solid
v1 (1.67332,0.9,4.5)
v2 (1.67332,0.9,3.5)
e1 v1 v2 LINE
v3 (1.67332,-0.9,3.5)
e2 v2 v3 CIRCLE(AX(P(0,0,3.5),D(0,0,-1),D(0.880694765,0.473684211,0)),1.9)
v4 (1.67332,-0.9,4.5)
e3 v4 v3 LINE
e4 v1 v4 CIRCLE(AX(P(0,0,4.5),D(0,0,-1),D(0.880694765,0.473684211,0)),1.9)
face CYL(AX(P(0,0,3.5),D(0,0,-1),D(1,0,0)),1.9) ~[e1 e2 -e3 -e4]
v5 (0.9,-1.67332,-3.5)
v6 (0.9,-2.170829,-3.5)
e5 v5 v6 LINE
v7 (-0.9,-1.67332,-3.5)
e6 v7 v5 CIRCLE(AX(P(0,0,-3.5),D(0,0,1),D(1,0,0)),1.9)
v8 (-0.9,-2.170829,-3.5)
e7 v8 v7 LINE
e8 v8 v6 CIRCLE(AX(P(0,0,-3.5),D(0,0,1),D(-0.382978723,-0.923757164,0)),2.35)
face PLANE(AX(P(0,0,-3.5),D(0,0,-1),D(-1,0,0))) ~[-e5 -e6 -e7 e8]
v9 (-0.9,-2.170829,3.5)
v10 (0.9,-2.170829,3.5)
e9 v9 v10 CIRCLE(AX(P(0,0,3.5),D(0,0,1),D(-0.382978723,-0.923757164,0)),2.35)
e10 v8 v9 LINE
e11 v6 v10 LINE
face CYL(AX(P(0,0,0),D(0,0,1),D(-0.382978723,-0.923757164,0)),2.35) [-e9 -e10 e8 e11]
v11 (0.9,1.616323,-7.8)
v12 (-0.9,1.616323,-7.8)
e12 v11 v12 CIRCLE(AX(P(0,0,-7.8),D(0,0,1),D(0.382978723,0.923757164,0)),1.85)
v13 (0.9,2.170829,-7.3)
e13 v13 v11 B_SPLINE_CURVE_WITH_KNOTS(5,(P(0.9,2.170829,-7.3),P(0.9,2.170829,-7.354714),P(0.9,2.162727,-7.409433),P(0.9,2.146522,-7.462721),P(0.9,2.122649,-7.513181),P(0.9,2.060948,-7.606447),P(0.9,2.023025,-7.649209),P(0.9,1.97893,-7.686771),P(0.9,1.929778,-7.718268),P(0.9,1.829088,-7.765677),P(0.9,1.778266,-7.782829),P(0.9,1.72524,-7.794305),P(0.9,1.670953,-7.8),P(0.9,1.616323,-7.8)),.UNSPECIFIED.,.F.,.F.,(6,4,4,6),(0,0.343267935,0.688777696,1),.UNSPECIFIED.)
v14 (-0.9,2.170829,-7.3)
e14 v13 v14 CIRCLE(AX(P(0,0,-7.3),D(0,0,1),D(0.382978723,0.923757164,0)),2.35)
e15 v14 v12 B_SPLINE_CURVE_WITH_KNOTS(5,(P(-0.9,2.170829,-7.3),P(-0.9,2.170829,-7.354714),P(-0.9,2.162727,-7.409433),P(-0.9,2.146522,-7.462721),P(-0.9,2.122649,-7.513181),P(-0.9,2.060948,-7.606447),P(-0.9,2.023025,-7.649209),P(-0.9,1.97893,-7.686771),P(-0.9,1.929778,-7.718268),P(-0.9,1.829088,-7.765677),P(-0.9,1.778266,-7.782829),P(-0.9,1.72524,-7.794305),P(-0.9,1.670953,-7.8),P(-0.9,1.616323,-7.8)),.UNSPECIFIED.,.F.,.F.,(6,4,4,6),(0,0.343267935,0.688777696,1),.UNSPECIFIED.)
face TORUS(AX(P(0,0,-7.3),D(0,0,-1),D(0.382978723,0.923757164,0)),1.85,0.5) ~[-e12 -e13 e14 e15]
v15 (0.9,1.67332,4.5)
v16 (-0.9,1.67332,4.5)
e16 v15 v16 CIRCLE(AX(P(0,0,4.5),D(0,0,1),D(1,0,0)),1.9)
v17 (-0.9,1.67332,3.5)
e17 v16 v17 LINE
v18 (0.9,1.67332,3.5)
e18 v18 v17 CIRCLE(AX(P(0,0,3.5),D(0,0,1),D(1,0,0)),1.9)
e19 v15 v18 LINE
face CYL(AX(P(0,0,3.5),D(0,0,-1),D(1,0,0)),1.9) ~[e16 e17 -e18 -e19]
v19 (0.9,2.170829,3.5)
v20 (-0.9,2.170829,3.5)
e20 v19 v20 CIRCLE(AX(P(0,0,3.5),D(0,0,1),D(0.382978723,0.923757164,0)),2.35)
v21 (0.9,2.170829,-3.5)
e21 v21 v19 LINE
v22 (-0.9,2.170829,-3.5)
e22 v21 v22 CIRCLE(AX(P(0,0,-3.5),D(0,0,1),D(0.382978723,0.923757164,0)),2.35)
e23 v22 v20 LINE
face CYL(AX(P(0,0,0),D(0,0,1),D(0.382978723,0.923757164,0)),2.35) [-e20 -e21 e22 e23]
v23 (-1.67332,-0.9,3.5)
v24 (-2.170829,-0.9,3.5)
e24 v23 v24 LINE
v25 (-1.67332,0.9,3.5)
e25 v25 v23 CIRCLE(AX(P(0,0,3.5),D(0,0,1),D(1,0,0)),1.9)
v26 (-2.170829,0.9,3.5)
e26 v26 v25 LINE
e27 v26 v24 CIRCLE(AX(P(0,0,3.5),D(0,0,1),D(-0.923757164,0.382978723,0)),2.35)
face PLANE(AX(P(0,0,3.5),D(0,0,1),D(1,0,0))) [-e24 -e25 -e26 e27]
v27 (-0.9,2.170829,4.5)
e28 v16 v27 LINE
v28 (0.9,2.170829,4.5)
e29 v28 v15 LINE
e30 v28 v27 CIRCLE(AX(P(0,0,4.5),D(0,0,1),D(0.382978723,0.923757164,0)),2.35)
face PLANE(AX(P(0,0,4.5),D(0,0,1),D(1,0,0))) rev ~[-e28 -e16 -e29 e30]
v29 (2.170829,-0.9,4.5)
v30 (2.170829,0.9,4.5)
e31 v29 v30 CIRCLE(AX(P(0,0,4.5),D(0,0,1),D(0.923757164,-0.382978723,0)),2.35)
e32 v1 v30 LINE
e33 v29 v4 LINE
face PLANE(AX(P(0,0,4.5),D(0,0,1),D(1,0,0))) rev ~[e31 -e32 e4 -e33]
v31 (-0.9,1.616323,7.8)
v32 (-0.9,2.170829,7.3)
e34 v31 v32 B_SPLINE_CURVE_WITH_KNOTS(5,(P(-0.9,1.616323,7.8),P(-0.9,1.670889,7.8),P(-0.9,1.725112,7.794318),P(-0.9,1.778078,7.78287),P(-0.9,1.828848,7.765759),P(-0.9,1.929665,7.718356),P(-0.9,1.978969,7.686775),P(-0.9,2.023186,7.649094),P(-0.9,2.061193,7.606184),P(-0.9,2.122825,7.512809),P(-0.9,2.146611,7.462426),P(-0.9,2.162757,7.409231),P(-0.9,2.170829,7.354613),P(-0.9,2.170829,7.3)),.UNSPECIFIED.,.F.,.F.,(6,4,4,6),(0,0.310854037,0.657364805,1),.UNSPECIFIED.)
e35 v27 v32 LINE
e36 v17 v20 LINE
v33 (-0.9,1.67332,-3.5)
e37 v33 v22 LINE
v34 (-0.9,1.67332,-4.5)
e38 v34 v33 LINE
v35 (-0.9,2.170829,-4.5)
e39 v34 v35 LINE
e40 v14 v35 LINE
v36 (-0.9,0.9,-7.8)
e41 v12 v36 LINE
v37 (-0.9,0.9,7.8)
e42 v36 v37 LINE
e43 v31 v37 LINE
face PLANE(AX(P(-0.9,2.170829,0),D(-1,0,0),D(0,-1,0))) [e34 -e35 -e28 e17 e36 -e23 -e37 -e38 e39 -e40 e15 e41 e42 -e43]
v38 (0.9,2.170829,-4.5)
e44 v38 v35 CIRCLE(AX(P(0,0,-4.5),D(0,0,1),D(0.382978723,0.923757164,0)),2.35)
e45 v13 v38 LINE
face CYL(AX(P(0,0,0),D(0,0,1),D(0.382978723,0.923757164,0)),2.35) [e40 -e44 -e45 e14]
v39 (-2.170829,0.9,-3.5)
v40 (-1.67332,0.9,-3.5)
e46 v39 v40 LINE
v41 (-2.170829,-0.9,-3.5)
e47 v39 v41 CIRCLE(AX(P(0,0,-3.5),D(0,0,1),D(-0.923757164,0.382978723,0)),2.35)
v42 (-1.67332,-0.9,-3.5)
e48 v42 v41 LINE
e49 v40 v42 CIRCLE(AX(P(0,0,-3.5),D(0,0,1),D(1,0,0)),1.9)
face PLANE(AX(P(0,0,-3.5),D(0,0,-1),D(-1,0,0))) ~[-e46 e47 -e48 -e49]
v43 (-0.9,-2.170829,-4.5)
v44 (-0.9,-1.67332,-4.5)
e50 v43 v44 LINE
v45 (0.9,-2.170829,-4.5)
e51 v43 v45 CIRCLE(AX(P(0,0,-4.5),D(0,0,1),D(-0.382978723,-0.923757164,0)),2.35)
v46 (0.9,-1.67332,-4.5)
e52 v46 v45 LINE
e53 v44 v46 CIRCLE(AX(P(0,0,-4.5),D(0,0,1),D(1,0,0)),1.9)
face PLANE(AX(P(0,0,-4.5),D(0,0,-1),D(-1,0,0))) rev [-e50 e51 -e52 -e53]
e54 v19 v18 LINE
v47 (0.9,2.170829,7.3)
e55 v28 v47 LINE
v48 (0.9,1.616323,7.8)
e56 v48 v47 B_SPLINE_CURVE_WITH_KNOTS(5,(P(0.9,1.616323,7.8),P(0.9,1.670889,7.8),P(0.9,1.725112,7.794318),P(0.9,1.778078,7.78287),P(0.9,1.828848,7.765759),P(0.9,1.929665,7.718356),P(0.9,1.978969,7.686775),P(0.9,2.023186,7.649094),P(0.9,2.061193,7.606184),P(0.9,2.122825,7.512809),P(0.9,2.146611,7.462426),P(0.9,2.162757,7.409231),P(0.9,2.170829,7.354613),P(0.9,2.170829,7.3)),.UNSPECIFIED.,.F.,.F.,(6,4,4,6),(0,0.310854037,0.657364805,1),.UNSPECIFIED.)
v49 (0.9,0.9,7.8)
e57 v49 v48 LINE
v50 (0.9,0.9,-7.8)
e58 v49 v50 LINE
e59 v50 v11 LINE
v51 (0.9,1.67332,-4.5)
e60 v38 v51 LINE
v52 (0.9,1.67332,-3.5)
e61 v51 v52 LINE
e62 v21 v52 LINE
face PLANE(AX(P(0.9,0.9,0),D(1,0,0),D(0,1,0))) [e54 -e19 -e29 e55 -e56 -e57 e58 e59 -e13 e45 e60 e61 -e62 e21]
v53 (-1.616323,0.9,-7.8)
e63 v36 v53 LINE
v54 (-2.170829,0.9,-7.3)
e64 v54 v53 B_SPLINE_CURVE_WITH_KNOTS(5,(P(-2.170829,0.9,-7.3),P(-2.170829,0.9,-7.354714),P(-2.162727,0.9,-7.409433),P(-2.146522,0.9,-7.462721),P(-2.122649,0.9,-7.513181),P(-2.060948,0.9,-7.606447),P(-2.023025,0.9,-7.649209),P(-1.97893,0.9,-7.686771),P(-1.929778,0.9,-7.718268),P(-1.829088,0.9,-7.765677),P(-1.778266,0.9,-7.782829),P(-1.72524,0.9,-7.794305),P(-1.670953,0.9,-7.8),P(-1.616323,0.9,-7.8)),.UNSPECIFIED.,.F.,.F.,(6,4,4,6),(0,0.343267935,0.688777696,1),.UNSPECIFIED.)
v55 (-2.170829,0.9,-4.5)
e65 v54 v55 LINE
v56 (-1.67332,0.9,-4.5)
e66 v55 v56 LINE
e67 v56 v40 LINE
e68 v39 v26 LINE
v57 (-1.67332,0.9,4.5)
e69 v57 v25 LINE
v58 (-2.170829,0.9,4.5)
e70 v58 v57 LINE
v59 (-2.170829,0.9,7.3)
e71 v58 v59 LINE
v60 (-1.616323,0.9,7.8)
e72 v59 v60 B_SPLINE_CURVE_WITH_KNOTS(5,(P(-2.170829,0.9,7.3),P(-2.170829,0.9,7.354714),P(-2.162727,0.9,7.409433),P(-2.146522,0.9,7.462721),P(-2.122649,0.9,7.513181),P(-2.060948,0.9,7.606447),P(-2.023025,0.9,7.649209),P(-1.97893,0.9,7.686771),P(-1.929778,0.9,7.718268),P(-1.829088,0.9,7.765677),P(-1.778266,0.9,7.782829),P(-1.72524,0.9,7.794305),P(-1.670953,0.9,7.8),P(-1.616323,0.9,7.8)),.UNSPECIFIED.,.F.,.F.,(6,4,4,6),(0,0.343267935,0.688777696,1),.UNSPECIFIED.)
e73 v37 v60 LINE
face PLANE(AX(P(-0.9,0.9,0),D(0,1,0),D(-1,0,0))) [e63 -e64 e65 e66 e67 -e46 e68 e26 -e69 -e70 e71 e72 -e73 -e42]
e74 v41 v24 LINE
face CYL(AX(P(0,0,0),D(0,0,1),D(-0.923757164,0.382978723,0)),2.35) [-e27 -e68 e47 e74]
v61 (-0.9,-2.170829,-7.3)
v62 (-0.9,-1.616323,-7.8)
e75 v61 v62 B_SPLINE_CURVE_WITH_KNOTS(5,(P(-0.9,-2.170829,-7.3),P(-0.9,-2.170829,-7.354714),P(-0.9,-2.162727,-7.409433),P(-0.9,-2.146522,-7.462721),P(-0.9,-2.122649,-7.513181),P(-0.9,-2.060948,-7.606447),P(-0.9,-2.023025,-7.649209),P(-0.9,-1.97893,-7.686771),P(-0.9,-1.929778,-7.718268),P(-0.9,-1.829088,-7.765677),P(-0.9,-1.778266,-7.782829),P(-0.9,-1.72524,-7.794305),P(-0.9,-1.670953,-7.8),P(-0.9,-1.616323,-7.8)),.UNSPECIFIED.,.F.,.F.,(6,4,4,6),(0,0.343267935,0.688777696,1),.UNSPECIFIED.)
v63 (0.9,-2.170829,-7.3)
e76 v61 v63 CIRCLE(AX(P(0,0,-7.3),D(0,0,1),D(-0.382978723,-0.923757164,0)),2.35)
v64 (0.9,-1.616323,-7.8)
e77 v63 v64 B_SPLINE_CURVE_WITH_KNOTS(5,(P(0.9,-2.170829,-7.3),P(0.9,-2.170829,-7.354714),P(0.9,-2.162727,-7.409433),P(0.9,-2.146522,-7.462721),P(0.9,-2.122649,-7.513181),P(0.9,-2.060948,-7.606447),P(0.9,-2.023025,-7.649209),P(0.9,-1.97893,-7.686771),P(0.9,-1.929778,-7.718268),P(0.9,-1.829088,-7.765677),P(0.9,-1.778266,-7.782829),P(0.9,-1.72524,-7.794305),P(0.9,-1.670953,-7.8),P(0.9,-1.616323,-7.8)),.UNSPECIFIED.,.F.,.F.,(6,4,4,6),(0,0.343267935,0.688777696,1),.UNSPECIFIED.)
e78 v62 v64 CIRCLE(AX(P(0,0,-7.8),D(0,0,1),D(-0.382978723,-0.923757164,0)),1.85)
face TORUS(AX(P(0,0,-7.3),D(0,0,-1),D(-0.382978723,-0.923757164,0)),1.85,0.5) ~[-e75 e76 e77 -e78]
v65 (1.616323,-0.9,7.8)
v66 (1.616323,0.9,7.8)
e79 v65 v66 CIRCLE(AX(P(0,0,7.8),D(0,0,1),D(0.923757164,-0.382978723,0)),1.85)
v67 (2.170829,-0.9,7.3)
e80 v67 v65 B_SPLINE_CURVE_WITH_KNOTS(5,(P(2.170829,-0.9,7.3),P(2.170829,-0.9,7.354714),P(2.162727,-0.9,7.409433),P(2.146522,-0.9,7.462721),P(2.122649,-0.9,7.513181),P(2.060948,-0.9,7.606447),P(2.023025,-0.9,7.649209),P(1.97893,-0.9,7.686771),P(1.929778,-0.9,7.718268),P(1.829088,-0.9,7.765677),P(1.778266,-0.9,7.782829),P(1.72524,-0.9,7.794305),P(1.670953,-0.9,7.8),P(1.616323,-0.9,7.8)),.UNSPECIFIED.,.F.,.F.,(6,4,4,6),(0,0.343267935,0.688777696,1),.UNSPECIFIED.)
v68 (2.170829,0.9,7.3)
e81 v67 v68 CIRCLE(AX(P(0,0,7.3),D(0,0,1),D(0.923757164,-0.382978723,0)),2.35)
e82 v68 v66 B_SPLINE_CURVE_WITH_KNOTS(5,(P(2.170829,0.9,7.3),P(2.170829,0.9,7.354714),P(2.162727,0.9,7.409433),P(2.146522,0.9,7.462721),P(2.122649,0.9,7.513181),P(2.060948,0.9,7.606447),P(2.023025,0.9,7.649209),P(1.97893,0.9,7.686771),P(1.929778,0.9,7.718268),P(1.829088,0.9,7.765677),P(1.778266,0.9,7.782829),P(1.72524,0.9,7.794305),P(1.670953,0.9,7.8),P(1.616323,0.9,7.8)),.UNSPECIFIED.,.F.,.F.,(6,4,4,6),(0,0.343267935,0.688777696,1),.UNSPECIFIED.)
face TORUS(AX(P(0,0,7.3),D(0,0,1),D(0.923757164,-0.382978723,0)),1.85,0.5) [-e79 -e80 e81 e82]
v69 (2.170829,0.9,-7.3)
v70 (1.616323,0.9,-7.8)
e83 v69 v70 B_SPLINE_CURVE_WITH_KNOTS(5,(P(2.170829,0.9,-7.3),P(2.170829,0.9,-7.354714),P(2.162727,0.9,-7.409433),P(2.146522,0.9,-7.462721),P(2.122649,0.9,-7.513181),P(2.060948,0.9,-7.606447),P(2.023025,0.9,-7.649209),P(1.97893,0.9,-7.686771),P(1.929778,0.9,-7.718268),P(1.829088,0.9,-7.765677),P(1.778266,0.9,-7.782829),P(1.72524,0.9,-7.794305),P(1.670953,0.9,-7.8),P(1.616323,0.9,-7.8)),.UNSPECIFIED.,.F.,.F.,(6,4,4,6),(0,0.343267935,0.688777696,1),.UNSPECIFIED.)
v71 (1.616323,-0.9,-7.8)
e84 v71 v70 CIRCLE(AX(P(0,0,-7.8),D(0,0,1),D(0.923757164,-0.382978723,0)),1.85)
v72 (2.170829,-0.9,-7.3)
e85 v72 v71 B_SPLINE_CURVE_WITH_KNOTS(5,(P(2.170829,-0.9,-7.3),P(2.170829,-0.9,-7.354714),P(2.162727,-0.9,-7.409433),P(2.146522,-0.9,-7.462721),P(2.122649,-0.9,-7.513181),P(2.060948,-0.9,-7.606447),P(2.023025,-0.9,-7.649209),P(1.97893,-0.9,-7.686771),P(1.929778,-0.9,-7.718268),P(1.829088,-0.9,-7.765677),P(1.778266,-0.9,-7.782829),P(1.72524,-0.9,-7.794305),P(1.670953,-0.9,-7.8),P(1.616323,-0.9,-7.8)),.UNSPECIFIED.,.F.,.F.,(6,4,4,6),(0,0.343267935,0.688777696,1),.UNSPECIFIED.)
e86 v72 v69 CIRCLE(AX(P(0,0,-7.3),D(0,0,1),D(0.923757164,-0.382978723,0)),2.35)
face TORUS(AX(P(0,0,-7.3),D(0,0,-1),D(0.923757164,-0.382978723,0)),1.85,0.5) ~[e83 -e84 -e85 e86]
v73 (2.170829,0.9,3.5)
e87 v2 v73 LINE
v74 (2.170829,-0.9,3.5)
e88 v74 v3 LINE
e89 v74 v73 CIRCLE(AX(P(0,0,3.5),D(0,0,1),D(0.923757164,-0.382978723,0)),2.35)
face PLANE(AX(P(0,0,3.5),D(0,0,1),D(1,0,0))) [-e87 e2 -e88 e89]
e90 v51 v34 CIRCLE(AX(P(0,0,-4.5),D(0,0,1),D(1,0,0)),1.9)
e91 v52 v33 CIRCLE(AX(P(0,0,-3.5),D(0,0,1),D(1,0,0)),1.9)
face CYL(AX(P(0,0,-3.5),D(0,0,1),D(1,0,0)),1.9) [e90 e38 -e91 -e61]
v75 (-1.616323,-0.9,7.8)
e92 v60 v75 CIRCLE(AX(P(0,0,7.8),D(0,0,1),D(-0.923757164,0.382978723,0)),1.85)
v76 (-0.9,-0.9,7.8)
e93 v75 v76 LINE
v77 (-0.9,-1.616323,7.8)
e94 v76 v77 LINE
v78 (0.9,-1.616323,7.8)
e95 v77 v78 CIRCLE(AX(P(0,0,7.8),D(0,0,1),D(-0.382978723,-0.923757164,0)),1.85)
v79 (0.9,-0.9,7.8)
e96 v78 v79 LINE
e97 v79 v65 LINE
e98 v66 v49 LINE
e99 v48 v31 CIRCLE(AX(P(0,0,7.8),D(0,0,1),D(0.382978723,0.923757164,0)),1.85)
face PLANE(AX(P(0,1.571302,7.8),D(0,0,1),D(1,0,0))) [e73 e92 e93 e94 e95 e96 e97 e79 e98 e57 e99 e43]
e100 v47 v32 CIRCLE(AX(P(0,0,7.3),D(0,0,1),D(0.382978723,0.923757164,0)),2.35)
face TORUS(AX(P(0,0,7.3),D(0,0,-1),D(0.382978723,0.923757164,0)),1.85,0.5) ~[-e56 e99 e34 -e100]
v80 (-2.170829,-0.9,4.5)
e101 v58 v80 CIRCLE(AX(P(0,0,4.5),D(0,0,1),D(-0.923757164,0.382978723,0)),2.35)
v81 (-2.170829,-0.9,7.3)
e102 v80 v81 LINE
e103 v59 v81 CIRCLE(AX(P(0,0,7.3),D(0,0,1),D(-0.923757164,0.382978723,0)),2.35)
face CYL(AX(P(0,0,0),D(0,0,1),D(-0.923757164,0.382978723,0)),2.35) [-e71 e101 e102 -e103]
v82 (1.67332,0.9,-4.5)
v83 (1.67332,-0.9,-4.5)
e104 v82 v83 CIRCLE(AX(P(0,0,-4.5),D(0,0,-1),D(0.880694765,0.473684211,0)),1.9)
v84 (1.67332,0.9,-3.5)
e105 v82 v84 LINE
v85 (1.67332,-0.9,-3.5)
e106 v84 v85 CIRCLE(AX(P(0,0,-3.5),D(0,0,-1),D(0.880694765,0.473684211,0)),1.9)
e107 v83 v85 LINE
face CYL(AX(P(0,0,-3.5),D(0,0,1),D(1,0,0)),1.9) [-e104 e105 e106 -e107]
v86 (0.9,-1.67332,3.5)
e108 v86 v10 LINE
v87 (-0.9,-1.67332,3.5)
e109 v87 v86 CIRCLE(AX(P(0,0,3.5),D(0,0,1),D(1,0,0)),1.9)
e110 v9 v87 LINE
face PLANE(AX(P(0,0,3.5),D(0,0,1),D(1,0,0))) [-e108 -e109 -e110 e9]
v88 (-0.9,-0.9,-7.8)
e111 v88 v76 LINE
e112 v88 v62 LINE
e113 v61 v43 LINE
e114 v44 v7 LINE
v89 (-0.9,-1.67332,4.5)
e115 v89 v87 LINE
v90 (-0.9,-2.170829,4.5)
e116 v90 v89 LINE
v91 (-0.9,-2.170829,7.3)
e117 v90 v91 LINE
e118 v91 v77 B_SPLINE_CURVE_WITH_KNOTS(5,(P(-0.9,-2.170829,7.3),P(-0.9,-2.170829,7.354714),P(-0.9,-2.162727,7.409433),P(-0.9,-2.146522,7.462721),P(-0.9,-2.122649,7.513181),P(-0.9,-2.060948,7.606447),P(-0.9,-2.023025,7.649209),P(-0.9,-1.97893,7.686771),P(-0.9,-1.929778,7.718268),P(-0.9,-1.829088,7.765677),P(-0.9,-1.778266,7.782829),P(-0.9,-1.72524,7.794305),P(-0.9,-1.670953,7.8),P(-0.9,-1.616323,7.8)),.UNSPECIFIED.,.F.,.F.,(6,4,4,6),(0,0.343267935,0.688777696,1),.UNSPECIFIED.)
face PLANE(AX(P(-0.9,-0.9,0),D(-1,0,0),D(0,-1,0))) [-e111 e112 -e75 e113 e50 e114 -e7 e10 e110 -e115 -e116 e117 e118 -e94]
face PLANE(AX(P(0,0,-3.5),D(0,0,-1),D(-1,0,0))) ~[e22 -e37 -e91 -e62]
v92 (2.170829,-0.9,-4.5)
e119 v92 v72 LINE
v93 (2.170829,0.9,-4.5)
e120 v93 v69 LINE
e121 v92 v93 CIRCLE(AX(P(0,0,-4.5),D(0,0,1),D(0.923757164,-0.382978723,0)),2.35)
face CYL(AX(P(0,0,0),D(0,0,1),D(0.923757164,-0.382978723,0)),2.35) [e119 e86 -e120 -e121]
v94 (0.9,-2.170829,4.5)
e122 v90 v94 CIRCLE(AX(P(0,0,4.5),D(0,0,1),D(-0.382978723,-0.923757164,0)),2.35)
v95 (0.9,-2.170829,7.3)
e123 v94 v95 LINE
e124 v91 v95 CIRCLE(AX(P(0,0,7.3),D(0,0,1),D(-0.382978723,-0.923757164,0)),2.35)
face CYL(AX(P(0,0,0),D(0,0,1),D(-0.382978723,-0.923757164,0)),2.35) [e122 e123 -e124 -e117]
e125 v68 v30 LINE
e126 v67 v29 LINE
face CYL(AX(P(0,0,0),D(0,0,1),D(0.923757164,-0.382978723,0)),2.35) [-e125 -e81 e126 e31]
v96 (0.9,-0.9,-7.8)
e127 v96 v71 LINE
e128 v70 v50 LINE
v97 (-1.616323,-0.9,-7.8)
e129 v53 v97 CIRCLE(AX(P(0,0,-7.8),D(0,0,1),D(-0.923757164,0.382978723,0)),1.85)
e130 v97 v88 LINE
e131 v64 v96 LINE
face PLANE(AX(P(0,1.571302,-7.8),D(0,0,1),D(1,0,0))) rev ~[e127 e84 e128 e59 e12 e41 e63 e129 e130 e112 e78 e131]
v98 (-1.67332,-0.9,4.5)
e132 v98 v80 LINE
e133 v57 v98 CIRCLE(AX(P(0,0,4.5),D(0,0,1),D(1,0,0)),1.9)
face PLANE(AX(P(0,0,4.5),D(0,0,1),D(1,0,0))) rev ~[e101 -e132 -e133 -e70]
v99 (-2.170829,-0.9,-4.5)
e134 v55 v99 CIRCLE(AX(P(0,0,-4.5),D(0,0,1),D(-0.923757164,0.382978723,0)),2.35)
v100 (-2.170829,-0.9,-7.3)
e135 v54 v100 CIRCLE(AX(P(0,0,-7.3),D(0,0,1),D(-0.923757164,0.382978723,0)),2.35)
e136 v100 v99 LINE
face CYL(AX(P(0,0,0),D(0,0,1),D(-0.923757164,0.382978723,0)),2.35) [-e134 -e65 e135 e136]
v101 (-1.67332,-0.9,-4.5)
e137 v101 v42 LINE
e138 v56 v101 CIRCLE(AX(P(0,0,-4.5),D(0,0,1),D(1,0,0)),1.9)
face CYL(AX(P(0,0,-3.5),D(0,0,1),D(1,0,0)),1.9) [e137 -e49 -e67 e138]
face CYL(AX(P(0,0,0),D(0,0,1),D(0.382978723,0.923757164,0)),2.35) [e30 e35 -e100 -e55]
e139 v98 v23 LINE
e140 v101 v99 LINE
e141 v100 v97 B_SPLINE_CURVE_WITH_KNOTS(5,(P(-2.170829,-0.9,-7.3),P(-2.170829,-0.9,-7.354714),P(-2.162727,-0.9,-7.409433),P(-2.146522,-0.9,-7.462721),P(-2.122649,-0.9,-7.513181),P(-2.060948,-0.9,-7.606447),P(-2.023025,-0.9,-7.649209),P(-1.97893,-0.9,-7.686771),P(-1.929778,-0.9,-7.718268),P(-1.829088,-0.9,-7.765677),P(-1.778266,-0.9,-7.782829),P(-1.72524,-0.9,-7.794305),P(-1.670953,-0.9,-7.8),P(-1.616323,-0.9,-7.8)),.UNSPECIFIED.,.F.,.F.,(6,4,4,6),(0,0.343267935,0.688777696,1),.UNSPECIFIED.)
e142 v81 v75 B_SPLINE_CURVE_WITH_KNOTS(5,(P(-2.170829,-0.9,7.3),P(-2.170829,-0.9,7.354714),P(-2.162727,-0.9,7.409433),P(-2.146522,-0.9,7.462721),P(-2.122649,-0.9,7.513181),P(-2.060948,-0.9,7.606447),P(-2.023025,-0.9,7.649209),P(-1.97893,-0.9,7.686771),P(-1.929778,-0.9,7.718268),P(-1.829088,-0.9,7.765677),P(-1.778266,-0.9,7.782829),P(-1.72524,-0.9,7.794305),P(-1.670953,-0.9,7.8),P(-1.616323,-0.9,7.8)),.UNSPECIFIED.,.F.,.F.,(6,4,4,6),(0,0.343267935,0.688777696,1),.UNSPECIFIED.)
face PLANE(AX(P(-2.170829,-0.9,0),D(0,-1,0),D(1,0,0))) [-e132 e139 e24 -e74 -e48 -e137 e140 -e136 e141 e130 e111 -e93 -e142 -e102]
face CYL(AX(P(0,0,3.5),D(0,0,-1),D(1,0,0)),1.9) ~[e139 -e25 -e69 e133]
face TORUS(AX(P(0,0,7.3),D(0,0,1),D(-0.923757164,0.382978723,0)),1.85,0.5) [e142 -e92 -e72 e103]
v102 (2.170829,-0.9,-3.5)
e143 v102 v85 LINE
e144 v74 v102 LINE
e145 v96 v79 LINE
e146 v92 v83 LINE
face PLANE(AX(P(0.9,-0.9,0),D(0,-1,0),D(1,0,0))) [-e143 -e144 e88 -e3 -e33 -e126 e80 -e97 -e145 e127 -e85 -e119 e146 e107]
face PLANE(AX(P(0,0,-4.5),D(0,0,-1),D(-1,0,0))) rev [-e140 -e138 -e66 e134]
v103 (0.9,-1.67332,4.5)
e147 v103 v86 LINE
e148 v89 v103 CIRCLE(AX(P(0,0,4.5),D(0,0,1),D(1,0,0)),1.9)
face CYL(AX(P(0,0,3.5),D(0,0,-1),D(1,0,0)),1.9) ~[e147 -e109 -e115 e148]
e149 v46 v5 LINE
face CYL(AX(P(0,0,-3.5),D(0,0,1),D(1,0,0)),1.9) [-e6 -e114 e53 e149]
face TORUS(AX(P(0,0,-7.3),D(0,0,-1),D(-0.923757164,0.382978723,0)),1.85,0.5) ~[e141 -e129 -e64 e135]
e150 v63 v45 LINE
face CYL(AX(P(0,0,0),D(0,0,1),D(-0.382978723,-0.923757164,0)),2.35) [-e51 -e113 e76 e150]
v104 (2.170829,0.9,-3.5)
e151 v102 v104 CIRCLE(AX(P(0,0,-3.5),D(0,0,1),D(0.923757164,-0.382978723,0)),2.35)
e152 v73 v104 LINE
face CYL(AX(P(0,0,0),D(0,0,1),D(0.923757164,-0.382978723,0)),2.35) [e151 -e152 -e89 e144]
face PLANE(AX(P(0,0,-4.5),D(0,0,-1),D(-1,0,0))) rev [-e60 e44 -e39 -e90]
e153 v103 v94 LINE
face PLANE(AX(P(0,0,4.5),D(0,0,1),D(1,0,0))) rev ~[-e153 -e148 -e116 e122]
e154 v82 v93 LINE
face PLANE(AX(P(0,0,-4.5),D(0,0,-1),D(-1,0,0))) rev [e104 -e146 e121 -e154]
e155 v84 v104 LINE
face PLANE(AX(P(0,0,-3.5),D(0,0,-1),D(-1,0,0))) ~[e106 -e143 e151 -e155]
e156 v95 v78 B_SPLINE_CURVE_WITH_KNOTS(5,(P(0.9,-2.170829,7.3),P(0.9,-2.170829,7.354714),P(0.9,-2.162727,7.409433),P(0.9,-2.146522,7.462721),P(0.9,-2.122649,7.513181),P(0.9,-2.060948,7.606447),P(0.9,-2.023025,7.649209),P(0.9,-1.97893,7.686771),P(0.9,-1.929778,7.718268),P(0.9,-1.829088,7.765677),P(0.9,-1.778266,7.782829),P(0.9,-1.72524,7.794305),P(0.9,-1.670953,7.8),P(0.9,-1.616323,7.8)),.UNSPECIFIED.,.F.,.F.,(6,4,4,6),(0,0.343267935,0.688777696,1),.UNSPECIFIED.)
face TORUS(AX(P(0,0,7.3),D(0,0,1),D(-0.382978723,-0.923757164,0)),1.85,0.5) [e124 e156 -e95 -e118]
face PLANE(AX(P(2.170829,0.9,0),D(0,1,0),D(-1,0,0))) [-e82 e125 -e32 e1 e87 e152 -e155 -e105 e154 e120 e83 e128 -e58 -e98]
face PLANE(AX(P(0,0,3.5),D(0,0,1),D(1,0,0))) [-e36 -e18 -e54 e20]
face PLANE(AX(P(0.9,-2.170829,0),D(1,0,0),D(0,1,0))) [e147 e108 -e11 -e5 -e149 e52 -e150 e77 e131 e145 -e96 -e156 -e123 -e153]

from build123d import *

# Parameters (mm, degrees)
BOSS_EXTRUDE1_DEPTH = 7.8
FILLET1_R           = 0.5
SIDE_START          = 3.5
SKETCH2_OUTSIDE_W   = 10.092
SKETCH2_OUTSIDE_H   = 10.092
SKETCH2_OUTSIDE_R   = 1.9
SIDE_CUT_DEPTH      = 1


with BuildPart() as part:
    # Sketch1 → Boss-Extrude1 (new, symmetric)
    with BuildSketch(Plane.XY):
        with BuildLine():
            Line((-0.9000000000000004, 0.9), (0.8999999999999999, 0.9000000000000002))
            Line((0.8999999999999998, 0.9000000000000004), (0.8999999999999998, 2.1708293346092873))
            ThreePointArc((0.8999999999999373, 2.170829334609268), (0.45883061344477144, 2.3047721076422936), (-1.386e-14, 2.3500000000000014))
            ThreePointArc((-1.386e-14, 2.3500000000000014), (-0.45883061344483045, 2.3047721076422825), (-0.9000000000000228, 2.170829334609233))
            Line((-0.9000000000000002, 2.170829334609226), (-0.9000000000000002, 0.8999999999999999))
        make_face()
        with BuildLine():
            Line((0.8999999999999998, 0.9000000000000004), (0.8999999999999998, -0.8999999999999999))
            Line((0.8999999999999999, -0.8999999999999998), (2.170829334609184, -0.8999999999999996))
            ThreePointArc((2.170829334609208, -0.9000000000000794), (2.304772107642276, -0.4588306134448533), (2.35, 2.9e-16))
            ThreePointArc((2.35, 8.7e-16), (2.3047721076422767, 0.4588306134448523), (2.1708293346092096, 0.9000000000000766))
            Line((2.170829334609186, 0.9000000000000004), (0.8999999999999999, 0.9000000000000002))
        make_face()
        with BuildLine():
            ThreePointArc((-0.9000000000000248, -2.1708293346092304), (-0.4588306134448299, -2.3047721076422807), (-1.13e-14, -2.3499999999999996))
            ThreePointArc((-1.13e-14, -2.3499999999999996), (0.45883061344477294, -2.304772107642292), (0.8999999999999382, -2.170829334609266))
            Line((0.8999999999999998, -2.1708293346092846), (0.8999999999999998, -0.8999999999999999))
            Line((0.8999999999999999, -0.8999999999999998), (-0.9000000000000004, -0.8999999999999999))
            Line((-0.9000000000000002, -0.8999999999999999), (-0.9000000000000002, -2.1708293346092233))
        make_face()
        with BuildLine():
            Line((-2.1708293346092815, -0.9000000000000001), (-0.9000000000000004, -0.8999999999999999))
            Line((-0.9000000000000002, -0.8999999999999999), (-0.9000000000000002, 0.8999999999999999))
            Line((-0.9000000000000004, 0.9), (-2.1708293346092815, 0.8999999999999999))
            ThreePointArc((-2.170829334609265, 0.8999999999999461), (-2.3047721076422913, 0.45883061344478315), (-2.350000000000001, 1.16e-15))
            ThreePointArc((-2.350000000000001, 1.16e-15), (-2.3047721076422913, -0.4588306134447819), (-2.170829334609264, -0.8999999999999455))
        make_face()
        Polygon((-0.9000000000000004, -0.8999999999999999), (0.8999999999999999, -0.8999999999999998), (0.8999999999999998, 0.9000000000000004), (-0.9000000000000004, 0.9), align=None)
    extrude(amount=BOSS_EXTRUDE1_DEPTH, both=True)

    # Fillet1
    fillet1_edges = [part.edges().sort_by_distance(p)[0] for p in [
        (-2.955e-14, 2.3500000000000014, 7.8),
        (2.3500000000000005, -9.3e-16, -7.8),
        (-2.982e-14, -2.3499999999999996, -7.8),
        (-2.350000000000001, 4.4e-16, -7.8),
        (-2.92e-14, 2.3500000000000014, -7.8),
        (-2.350000000000001, 2.2e-16, 7.8),
        (-2.943e-14, -2.3499999999999996, 7.8),
        (2.3499999999999996, -4.6e-16, 7.8),
    ]]
    fillet(fillet1_edges, radius=FILLET1_R)

    # Sketch2 outside → Side Cut (cut)
    with BuildSketch(Plane.XY.offset(SIDE_START)):
        Rectangle(SKETCH2_OUTSIDE_W, SKETCH2_OUTSIDE_H)
        Circle(SKETCH2_OUTSIDE_R, mode=Mode.SUBTRACT)
    side_cut = extrude(amount=SIDE_CUT_DEPTH, mode=Mode.SUBTRACT)

    # Mirror1: Side Cut across plane
    add(side_cut.mirror(Plane.XY), mode=Mode.SUBTRACT)


solid = part.part
